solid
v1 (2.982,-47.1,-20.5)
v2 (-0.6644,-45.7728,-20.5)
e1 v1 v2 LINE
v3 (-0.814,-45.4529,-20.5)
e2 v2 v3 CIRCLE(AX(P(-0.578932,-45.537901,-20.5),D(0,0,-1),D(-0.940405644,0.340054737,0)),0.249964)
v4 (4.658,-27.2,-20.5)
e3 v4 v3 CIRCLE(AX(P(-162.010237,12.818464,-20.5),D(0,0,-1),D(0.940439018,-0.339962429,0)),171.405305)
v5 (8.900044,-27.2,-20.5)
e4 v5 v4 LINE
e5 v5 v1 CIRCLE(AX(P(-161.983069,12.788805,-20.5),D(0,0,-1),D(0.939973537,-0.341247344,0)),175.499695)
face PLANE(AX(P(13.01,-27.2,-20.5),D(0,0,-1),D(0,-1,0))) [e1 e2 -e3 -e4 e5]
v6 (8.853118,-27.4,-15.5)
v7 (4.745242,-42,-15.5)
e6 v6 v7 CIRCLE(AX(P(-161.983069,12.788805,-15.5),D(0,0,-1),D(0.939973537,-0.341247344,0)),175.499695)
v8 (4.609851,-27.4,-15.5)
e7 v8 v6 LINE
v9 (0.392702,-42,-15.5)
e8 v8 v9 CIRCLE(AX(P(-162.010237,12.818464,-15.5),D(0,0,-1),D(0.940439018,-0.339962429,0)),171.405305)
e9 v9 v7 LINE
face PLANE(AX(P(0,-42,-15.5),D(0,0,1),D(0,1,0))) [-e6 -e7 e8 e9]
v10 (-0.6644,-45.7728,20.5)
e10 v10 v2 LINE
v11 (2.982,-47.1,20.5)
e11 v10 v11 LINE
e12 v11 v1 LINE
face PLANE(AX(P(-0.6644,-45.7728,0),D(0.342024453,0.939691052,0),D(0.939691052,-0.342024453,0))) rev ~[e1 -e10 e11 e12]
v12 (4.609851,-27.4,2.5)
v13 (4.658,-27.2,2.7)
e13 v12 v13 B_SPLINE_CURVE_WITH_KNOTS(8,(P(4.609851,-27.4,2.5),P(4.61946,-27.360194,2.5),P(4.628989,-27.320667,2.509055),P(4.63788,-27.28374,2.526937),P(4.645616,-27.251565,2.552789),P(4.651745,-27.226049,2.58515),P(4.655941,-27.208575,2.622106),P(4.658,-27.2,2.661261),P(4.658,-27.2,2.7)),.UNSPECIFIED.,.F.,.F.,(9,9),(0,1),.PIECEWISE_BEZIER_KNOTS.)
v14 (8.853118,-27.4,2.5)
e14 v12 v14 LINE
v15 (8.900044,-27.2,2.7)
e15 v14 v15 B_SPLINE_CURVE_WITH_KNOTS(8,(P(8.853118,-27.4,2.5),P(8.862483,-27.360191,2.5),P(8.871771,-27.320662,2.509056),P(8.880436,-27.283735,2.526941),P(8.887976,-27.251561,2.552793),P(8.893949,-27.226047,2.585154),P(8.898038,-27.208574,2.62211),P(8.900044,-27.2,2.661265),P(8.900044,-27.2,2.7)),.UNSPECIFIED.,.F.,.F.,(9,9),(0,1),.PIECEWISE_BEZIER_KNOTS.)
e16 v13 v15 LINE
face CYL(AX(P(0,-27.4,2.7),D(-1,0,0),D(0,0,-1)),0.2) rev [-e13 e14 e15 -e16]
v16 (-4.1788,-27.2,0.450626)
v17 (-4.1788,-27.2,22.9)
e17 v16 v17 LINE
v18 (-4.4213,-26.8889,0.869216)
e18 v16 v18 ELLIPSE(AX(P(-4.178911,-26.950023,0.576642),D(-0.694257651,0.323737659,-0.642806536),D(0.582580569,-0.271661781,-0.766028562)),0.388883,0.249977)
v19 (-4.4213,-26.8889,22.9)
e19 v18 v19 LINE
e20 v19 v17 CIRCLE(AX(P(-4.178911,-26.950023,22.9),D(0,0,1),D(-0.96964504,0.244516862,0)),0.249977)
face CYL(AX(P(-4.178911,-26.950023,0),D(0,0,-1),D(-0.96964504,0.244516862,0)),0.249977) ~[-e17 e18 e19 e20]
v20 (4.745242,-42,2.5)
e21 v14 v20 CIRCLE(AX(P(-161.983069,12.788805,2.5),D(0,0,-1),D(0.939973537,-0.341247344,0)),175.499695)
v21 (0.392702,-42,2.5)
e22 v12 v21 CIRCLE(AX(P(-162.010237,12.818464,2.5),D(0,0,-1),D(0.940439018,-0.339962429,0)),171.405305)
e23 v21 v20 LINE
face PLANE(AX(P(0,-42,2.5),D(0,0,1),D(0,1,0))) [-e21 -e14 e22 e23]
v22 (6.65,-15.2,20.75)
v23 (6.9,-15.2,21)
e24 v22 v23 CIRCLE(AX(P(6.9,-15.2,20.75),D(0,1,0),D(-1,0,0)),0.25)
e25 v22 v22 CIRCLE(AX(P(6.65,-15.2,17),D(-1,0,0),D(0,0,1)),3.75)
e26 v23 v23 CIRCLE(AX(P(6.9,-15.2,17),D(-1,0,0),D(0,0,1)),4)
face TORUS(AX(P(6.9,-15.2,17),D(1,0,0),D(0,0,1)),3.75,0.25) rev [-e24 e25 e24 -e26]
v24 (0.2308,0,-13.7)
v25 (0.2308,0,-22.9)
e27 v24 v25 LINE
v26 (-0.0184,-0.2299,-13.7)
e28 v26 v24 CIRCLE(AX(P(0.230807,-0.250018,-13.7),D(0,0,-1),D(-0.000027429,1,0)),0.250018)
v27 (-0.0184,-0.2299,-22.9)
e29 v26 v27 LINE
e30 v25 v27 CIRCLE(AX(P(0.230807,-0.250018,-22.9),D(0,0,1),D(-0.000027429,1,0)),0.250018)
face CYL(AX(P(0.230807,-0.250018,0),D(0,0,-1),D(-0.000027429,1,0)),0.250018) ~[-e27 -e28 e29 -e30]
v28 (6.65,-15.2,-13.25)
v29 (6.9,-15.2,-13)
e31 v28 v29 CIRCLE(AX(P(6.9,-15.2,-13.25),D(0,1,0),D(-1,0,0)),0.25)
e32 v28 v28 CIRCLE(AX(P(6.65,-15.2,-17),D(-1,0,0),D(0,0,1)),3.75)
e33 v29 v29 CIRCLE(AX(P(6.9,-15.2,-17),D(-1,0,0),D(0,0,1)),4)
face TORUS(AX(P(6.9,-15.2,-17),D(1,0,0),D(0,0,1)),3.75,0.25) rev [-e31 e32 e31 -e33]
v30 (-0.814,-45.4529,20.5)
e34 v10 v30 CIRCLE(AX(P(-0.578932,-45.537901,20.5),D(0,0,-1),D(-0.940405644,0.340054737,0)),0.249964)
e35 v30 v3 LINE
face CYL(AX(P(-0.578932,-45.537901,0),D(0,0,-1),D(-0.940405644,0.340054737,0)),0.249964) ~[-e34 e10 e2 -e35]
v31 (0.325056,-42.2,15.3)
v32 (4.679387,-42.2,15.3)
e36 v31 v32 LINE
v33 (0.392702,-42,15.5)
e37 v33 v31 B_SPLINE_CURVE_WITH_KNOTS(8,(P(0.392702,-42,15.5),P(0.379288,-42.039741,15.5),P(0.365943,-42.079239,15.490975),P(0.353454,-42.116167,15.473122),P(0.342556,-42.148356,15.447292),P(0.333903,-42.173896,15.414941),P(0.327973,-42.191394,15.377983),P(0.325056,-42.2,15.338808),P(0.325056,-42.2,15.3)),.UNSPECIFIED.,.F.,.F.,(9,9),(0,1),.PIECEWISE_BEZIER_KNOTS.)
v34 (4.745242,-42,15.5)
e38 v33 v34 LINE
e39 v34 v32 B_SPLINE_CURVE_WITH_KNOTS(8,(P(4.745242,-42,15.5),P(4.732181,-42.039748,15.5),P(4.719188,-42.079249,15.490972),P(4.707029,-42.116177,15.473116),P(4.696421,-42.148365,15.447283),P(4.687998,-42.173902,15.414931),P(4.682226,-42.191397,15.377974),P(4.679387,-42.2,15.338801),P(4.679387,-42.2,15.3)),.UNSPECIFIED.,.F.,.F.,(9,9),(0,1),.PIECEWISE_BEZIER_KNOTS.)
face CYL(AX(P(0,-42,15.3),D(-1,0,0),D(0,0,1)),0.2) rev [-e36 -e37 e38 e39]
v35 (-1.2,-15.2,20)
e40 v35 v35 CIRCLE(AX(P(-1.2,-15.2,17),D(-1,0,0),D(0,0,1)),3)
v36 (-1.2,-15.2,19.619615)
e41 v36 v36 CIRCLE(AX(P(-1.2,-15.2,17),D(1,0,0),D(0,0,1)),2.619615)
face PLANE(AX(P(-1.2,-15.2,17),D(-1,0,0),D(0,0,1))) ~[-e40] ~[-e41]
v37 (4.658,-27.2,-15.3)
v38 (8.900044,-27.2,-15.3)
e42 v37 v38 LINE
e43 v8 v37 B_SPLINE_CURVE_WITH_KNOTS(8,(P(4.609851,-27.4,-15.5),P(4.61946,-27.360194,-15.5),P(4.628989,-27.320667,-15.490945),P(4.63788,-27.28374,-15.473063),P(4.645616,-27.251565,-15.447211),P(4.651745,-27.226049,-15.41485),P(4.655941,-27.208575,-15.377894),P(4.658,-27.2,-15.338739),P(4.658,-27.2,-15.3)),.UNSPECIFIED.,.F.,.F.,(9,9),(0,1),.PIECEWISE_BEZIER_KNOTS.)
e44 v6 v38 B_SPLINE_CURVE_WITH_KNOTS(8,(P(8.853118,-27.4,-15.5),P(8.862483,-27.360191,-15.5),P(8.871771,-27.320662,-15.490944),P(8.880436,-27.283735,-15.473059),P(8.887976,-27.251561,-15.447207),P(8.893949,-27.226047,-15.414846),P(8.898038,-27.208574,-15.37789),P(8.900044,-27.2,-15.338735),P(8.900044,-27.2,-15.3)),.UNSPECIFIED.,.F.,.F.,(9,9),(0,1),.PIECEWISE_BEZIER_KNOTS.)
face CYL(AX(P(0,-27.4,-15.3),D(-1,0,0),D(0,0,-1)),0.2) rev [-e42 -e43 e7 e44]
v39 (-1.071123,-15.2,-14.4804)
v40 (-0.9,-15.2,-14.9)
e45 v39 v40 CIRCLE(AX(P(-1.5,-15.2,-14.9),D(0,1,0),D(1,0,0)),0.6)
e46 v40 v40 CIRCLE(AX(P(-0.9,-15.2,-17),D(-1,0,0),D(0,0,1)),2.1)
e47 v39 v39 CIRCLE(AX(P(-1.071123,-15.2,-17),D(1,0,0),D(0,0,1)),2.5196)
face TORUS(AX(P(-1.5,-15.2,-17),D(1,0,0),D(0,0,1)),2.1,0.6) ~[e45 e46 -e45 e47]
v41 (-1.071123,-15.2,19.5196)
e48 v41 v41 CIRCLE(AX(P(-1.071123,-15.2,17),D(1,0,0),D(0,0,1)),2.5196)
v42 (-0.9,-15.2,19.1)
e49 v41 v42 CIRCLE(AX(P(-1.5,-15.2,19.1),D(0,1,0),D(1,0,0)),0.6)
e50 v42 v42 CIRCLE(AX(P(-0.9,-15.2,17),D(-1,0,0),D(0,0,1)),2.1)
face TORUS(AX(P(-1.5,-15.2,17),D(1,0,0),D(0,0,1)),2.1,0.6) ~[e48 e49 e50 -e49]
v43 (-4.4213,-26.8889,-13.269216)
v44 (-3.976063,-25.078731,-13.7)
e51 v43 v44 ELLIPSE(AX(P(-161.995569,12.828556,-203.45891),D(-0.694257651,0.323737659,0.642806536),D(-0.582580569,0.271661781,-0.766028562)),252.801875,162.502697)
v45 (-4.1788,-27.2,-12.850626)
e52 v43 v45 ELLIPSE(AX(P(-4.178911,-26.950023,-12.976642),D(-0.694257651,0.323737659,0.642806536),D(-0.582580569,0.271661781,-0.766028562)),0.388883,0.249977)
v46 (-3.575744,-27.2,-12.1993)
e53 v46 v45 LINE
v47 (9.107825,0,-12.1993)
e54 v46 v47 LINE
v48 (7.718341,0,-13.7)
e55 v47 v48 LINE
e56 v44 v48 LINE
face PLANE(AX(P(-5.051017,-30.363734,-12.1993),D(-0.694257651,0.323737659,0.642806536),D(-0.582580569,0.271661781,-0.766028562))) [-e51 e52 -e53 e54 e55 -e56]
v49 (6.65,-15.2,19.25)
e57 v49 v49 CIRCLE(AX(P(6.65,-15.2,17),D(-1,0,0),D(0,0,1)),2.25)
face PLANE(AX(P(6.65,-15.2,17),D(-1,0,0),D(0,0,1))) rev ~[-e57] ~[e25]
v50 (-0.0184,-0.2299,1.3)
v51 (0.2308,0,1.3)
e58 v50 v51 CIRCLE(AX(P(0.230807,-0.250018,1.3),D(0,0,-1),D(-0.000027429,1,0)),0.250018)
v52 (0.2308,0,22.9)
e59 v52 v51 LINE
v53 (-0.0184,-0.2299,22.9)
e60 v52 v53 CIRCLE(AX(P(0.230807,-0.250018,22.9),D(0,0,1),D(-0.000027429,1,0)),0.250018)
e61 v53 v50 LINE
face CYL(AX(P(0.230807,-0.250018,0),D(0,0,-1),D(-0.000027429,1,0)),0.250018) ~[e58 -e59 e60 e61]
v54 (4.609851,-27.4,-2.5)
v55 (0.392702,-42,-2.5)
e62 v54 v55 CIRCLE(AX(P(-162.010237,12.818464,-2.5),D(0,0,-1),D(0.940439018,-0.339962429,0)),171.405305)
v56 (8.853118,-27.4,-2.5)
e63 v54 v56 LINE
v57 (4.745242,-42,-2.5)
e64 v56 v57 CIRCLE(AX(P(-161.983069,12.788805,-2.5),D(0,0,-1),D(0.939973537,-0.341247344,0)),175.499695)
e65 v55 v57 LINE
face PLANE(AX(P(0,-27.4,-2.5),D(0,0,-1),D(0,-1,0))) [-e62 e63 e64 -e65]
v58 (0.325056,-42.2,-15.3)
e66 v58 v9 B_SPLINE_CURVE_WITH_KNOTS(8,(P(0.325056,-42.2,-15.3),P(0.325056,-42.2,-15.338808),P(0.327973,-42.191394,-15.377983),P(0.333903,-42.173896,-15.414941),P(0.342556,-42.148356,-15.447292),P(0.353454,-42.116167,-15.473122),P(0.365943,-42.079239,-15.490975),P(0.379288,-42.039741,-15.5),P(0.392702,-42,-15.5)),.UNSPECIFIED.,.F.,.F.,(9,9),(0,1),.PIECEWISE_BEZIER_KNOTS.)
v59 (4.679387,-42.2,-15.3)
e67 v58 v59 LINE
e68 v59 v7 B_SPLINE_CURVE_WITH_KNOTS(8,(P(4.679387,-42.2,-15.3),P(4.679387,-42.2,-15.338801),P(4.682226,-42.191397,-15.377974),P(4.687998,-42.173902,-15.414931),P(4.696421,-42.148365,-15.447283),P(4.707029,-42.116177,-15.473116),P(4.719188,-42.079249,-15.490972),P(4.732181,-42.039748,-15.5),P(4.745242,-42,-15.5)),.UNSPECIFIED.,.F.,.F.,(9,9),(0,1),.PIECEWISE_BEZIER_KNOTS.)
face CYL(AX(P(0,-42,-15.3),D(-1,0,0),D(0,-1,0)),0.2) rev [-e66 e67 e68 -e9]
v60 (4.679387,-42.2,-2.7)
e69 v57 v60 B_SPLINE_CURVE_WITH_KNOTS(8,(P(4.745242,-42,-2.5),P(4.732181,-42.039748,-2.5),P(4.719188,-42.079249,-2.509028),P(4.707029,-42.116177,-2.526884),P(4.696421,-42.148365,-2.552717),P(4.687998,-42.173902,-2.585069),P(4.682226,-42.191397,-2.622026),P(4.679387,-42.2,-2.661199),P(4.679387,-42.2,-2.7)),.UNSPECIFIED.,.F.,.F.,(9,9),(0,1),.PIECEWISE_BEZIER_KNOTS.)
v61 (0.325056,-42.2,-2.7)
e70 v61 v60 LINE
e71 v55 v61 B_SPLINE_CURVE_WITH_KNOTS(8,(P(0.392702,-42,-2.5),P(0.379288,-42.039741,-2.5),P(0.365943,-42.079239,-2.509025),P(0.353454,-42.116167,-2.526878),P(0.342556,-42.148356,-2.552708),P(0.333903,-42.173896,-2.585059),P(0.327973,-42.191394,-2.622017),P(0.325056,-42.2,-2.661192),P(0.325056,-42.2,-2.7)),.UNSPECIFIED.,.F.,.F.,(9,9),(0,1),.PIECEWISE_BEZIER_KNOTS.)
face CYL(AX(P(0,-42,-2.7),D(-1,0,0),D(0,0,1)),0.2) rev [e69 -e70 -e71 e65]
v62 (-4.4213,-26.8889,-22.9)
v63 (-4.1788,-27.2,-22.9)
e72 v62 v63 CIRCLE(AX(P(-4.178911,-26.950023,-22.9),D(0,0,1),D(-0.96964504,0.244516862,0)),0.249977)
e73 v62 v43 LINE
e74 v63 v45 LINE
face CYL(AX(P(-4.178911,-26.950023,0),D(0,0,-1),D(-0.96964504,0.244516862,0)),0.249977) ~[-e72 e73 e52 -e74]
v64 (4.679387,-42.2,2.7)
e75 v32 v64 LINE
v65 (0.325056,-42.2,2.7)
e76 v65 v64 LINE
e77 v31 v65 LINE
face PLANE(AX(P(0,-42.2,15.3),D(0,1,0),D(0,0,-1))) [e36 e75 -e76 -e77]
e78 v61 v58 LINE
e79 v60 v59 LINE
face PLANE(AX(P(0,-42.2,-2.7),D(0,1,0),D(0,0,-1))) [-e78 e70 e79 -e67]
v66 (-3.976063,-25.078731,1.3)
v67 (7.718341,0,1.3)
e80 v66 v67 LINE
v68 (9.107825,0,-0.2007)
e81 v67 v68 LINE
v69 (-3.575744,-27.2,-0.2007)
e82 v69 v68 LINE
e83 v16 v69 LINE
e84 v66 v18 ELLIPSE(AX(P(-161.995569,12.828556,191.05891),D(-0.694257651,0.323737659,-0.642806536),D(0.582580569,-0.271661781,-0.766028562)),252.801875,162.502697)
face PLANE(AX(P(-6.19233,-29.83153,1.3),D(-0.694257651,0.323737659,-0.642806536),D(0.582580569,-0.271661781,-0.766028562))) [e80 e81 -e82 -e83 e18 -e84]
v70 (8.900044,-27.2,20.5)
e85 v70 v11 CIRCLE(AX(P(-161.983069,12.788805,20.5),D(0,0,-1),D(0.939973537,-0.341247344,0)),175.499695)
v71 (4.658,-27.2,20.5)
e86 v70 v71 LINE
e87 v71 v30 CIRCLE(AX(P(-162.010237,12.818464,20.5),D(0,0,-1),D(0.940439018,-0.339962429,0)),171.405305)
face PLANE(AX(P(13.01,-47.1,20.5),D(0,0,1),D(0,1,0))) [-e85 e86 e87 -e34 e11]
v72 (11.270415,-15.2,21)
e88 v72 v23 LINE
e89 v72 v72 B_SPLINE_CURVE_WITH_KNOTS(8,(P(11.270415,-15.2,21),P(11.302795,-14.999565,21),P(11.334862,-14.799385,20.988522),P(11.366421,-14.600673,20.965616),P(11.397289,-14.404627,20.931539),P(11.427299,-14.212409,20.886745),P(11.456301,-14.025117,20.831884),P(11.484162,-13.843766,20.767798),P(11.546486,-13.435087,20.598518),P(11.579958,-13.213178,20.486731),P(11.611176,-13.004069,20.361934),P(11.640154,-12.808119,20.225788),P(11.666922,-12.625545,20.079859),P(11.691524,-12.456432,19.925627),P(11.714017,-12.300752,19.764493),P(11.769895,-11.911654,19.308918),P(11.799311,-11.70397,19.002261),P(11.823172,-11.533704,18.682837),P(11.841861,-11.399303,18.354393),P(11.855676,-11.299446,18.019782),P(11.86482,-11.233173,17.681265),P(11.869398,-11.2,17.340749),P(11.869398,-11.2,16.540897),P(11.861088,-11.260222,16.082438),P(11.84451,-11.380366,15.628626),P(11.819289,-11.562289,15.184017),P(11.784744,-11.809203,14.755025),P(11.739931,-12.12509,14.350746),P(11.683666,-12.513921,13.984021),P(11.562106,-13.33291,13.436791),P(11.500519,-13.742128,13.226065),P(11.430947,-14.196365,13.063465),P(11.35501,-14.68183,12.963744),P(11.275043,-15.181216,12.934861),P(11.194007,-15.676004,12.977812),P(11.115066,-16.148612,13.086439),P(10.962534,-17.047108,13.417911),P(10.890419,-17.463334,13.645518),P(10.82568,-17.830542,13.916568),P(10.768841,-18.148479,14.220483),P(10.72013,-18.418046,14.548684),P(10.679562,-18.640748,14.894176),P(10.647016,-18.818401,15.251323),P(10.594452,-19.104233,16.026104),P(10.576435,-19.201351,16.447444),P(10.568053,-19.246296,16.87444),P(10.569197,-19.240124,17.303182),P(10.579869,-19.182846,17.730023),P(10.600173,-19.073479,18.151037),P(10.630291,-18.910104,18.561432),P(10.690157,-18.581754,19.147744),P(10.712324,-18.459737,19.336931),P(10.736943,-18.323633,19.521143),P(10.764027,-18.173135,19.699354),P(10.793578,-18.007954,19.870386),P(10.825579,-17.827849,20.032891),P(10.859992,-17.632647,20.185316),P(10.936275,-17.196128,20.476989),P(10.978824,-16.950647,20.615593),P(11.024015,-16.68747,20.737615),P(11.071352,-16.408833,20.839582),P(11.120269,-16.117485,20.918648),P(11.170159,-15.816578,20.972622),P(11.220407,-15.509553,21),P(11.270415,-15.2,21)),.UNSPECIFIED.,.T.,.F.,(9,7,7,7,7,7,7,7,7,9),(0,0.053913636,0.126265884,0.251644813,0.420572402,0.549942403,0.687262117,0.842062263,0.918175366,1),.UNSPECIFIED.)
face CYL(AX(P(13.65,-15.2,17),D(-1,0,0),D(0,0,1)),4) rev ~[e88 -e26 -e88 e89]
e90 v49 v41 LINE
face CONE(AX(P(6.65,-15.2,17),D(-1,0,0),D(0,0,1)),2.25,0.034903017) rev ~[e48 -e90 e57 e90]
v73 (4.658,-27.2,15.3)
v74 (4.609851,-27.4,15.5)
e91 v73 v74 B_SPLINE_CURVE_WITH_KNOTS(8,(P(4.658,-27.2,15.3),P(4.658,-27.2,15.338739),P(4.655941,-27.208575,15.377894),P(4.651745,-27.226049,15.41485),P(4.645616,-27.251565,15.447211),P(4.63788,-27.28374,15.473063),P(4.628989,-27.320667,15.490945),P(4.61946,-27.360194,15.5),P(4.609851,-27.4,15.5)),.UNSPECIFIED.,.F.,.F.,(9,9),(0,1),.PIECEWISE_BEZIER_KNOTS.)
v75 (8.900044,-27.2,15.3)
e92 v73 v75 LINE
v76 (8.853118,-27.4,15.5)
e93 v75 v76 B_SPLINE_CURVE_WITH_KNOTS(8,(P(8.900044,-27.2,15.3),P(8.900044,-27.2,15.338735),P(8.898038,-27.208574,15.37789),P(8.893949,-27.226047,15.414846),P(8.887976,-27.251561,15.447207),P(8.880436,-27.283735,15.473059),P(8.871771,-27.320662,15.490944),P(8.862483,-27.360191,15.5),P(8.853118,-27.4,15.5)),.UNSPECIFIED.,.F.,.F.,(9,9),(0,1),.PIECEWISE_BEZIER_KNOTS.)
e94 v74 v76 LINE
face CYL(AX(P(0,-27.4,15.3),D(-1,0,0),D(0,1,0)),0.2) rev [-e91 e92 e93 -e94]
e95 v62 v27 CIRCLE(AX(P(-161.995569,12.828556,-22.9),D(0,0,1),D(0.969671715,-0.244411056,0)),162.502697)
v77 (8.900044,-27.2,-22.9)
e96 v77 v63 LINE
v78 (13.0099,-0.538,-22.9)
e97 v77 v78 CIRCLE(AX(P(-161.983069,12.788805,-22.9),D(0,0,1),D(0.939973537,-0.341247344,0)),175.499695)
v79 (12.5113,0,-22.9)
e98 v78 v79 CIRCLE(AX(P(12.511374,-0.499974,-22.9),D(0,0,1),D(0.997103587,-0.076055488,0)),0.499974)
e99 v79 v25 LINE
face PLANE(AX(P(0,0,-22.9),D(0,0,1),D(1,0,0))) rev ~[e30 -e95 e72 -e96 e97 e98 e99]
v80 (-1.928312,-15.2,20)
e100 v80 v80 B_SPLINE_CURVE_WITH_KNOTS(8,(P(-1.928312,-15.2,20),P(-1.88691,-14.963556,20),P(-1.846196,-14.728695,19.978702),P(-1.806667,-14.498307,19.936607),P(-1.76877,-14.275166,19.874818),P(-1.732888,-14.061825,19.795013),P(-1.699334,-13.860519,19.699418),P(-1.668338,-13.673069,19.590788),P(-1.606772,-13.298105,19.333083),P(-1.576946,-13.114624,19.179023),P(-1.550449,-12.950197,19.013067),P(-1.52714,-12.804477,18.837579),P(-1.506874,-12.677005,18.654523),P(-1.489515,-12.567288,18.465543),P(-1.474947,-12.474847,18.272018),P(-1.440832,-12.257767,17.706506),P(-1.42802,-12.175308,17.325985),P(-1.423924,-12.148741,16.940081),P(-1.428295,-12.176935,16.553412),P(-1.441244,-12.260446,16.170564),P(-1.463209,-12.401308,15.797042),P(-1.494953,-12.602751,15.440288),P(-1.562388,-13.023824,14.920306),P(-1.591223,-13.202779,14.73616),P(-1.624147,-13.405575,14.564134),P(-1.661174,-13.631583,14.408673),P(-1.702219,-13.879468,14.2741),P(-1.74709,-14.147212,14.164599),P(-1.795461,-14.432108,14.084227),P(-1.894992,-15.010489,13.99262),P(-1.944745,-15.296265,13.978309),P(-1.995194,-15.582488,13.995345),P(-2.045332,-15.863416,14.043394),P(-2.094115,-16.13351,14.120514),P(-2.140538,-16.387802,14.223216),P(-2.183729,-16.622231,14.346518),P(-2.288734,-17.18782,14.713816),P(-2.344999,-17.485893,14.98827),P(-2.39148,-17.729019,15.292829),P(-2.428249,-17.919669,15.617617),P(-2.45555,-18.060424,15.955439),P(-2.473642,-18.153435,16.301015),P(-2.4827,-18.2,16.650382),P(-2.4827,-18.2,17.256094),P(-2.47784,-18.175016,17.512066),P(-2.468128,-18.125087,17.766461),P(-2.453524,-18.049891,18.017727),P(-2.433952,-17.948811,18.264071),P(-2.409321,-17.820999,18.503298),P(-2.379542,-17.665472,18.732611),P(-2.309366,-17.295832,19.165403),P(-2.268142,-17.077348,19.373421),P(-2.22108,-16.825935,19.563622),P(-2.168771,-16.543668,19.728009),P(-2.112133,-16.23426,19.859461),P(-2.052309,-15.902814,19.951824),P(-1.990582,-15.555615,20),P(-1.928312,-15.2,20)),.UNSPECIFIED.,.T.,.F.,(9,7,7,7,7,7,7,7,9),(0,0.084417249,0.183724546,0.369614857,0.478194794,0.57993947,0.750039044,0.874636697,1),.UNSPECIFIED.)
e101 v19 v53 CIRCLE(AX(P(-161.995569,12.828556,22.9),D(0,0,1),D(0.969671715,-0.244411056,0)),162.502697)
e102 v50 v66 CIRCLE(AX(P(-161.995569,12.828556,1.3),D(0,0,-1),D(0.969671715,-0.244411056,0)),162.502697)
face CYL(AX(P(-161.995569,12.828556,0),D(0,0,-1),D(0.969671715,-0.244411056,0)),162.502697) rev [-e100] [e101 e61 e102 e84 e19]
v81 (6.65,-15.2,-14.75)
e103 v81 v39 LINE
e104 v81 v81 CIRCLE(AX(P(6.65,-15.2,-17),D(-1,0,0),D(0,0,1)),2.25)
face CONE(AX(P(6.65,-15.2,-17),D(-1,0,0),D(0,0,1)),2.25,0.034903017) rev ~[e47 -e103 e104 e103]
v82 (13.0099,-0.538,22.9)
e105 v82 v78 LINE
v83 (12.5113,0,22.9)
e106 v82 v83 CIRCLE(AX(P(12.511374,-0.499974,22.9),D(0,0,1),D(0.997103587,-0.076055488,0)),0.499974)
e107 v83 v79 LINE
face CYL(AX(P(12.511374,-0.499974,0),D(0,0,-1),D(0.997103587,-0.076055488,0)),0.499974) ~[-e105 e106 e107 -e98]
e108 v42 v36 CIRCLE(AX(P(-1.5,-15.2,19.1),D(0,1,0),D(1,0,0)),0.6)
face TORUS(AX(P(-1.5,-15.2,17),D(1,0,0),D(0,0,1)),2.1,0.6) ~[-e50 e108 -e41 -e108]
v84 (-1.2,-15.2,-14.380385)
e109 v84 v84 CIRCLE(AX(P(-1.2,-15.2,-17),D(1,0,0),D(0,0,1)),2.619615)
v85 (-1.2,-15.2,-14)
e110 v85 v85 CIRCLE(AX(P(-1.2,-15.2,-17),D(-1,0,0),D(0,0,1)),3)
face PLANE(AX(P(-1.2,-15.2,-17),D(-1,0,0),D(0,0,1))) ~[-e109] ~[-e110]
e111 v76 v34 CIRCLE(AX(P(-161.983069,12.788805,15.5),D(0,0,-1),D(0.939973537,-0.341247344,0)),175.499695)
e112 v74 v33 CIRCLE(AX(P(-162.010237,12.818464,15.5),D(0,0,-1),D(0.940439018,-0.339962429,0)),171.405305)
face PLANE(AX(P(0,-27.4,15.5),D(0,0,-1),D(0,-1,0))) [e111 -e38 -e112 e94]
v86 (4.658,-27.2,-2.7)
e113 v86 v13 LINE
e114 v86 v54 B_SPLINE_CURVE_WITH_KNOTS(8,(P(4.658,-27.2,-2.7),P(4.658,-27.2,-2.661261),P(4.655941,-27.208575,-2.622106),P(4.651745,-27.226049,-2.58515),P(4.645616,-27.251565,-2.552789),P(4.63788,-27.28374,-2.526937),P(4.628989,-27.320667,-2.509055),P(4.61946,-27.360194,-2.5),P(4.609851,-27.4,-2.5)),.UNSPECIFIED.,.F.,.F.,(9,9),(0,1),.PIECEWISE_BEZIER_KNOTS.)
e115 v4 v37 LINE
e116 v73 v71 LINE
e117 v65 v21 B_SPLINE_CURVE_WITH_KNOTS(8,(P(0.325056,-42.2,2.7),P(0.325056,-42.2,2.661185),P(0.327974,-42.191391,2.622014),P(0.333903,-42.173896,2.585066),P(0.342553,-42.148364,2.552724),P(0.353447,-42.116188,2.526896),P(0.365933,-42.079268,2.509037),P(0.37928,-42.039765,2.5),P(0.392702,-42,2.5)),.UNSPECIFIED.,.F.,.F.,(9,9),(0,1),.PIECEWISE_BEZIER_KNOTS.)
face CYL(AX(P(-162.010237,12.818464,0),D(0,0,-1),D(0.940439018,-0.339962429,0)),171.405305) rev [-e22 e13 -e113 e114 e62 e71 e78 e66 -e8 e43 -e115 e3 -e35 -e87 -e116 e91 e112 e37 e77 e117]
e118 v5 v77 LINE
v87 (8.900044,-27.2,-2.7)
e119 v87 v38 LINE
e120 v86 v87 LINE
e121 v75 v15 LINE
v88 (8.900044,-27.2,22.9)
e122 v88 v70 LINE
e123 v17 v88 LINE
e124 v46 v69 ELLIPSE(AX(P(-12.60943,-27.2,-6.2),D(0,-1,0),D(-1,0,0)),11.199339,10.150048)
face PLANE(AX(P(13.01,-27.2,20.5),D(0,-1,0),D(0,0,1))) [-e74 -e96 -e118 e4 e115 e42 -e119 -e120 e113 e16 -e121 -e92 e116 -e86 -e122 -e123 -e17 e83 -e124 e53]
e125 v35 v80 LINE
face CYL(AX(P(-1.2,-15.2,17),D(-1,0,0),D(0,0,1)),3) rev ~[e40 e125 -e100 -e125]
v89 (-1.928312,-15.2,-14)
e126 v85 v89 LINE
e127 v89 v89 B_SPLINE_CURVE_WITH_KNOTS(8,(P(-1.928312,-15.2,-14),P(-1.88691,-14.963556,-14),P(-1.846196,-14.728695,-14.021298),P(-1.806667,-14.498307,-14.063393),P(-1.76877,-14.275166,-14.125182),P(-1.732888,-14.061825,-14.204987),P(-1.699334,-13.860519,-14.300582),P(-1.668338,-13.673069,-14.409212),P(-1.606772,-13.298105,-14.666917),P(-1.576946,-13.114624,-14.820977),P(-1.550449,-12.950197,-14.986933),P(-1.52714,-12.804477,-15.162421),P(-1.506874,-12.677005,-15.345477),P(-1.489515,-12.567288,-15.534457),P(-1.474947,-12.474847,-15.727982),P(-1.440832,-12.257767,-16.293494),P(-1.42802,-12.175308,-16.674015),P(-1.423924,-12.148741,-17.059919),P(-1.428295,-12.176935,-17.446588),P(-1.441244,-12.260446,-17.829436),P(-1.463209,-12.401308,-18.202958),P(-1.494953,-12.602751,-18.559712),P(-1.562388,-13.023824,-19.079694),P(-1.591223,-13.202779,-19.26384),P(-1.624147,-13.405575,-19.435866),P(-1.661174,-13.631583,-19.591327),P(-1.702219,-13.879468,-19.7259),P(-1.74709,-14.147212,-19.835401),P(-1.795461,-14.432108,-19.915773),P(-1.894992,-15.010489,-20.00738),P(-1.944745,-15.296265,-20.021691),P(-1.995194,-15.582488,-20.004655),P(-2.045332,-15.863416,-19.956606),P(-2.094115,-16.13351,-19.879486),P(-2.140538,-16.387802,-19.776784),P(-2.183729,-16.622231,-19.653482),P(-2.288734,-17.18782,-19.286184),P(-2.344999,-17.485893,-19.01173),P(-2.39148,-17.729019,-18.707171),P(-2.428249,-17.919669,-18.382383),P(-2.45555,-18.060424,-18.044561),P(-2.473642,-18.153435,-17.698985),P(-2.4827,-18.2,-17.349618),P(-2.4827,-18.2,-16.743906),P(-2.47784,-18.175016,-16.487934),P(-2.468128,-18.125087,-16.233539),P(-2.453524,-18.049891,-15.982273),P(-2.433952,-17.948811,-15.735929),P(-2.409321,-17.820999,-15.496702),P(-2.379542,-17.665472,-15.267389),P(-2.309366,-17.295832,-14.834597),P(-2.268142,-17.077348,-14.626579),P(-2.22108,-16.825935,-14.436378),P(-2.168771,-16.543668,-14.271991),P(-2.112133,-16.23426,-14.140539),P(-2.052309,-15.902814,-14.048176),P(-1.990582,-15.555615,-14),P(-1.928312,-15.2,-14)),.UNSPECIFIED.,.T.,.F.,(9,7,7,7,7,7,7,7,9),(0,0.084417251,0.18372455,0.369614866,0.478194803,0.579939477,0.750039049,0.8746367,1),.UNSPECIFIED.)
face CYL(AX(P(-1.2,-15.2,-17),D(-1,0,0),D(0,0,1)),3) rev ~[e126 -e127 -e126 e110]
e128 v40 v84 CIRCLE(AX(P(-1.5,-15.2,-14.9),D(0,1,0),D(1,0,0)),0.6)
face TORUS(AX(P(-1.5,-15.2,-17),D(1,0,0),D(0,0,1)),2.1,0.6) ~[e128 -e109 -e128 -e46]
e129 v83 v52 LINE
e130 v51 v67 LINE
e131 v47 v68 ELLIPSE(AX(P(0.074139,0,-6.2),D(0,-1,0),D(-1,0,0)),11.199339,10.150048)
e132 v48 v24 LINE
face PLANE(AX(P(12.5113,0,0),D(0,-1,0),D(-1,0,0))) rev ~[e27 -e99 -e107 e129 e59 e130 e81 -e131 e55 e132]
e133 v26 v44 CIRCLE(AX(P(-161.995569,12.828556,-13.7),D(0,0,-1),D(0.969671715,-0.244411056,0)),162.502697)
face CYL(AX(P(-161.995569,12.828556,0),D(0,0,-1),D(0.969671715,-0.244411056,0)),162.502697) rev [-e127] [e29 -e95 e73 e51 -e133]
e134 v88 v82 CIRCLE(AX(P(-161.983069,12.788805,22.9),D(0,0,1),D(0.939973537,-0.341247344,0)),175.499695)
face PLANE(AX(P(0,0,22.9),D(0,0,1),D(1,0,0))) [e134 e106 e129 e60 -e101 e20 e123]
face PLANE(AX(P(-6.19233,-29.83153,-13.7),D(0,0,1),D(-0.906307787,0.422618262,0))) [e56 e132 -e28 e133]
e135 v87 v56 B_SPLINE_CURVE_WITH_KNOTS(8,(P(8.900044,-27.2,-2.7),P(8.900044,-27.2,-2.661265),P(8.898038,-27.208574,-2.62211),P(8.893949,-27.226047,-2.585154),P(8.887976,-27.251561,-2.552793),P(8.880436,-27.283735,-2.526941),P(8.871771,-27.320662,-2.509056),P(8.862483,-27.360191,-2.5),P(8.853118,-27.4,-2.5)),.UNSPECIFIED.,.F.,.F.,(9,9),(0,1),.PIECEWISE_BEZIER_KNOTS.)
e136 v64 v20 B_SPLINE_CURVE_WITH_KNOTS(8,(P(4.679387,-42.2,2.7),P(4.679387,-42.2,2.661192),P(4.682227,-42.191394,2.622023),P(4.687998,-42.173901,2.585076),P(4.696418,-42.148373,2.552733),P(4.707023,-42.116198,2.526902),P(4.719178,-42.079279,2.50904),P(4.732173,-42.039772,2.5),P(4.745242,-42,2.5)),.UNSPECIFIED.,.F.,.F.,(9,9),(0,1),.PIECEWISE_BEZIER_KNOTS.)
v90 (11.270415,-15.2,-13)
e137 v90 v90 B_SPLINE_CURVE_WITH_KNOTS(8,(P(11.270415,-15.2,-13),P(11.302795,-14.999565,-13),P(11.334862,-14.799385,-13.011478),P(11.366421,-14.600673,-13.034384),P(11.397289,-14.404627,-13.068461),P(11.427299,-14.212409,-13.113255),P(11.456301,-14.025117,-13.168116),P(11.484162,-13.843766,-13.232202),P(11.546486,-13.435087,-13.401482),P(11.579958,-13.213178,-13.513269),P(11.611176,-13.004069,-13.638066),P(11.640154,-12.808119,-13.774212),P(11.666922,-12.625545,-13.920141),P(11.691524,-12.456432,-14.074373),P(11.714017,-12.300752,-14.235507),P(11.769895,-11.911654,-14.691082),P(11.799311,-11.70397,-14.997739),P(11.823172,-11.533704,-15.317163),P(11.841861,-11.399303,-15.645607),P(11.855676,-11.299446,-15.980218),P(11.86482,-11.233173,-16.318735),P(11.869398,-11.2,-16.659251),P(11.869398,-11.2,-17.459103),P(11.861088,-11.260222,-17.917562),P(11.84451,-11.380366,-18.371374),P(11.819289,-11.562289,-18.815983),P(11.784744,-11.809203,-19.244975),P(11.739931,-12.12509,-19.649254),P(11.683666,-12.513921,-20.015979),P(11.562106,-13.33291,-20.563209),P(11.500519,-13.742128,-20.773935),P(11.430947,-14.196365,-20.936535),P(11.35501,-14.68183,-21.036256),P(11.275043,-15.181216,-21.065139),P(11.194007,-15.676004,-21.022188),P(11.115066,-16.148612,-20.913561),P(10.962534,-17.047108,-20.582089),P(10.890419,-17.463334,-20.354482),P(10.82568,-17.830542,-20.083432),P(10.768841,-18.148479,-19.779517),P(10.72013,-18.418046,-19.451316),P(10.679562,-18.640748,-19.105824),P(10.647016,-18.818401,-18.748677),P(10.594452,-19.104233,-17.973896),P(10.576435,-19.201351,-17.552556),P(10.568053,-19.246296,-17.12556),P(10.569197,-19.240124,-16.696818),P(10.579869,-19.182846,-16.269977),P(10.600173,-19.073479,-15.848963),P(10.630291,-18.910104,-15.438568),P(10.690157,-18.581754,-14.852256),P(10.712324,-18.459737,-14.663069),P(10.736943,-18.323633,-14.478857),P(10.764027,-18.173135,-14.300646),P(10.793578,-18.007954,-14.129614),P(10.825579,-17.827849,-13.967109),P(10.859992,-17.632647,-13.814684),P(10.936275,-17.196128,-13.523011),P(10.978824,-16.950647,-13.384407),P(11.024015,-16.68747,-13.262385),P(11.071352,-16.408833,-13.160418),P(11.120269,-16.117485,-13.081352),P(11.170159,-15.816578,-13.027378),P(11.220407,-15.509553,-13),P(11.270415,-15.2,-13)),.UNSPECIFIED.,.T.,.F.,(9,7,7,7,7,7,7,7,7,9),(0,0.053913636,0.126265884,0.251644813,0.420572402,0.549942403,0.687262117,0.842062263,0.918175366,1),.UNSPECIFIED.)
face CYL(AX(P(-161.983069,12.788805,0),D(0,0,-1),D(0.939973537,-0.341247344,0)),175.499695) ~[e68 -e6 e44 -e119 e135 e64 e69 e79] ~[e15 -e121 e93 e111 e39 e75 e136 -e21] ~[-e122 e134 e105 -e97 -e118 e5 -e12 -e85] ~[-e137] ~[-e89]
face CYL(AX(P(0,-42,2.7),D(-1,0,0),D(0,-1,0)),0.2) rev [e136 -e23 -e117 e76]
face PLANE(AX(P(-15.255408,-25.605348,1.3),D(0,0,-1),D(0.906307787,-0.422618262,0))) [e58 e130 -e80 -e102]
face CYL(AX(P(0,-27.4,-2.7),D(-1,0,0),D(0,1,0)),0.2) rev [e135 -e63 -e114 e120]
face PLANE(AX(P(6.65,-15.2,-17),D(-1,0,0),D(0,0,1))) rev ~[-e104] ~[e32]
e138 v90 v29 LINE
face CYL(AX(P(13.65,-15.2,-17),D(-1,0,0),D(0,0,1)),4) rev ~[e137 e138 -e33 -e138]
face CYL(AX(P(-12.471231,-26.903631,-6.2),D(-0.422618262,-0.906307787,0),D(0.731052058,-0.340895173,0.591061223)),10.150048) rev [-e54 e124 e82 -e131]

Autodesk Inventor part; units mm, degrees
sketch "Sketch_1" plane through (0, 0, 0) normal (0, 0, 1) x (1, 0, 0)
  arc A0 (-4.4213, -26.8889) -> (-4.1788, -27.2) centre (-4.1788, -26.95) ccw
  line L0 (-4.1788, -27.2) -> (4.658, -27.2)
  arc A1 (-0.814, -45.4529) -> (4.658, -27.2) centre (-162.0052, 12.8168) ccw
  arc A2 (-0.814, -45.4529) -> (-0.6644, -45.7728) centre (-0.5789, -45.5379) ccw
  line L1 (-0.6644, -45.7728) -> (2.982, -47.1)
  arc A3 (2.982, -47.1) -> (13.0099, -0.538) centre (-161.9834, 12.7889) ccw
  arc A4 (13.0099, -0.538) -> (12.5113, 0) centre (12.5113, -0.5) ccw
  line L2 (12.5113, 0) -> (0.2308, 0)
  arc A5 (0.2308, 0) -> (-0.0184, -0.2299) centre (0.2308, -0.25) ccw
  arc A6 (-4.4213, -26.8889) -> (-0.0184, -0.2299) centre (-161.9929, 12.828) ccw
extrude "Extrusion1" add sketch "Sketch_1" along normal mid plane 45.8
sketch "Sketch_2" plane through (0, 0, 0) normal (1, 0, 0) x (0, 1, 0)
  line L0 (-27.4, 15.5) -> (-42, 15.5)
  arc A0 (-42, 15.5) -> (-42.2, 15.3) centre (-42, 15.3) ccw
  line L1 (-42.2, 15.3) -> (-42.2, 2.7)
  arc A1 (-42.2, 2.7) -> (-42, 2.5) centre (-42, 2.7) ccw
  line L2 (-42, 2.5) -> (-27.4, 2.5)
  arc A2 (-27.4, 2.5) -> (-27.2, 2.7) centre (-27.4, 2.7) ccw
  line L3 (-27.2, 2.7) -> (-27.2, 15.3)
  arc A3 (-27.2, 15.3) -> (-27.4, 15.5) centre (-27.4, 15.3) ccw
extrude "Extrusion2" cut sketch "Sketch_2" along normal blind 15
sketch "Sketch_3" plane through (0, 0, 0) normal (1, 0, 0) x (0, 1, 0)
  arc A0 (-42, -2.5) -> (-42.2, -2.7) centre (-42, -2.7) ccw
  line L0 (-42.2, -2.7) -> (-42.2, -15.3)
  arc A1 (-42.2, -15.3) -> (-42, -15.5) centre (-42, -15.3) ccw
  line L1 (-42, -15.5) -> (-27.4, -15.5)
  arc A2 (-27.4, -15.5) -> (-27.2, -15.3) centre (-27.4, -15.3) ccw
  line L2 (-27.2, -15.3) -> (-27.2, -2.7)
  arc A3 (-27.2, -2.7) -> (-27.4, -2.5) centre (-27.4, -2.7) ccw
  line L3 (-27.4, -2.5) -> (-42, -2.5)
extrude "Extrusion3" cut sketch "Sketch_3" along normal blind 15
sketch "Sketch_4" plane through (13.01, 0, 0) normal (1, 0, 0) x (0, 0, -1)
  line L0 (-22.9, -47.1) -> (-20.5, -47.1)
  line L1 (-20.5, -47.1) -> (-20.5, -27.2)
  line L2 (-20.5, -27.2) -> (-22.9, -27.2)
  line L3 (-22.9, -27.2) -> (-22.9, -47.1)
extrude "Extrusion4" cut sketch "Sketch_4" along normal mid plane 40
sketch "Sketch_5" plane through (13.01, 0, 0) normal (1, 0, 0) x (0, 0, -1)
  line L0 (20.5, -47.1) -> (22.9, -47.1)
  line L1 (22.9, -47.1) -> (22.9, -27.2)
  line L2 (22.9, -27.2) -> (20.5, -27.2)
  line L3 (20.5, -27.2) -> (20.5, -47.1)
extrude "Extrusion5" cut sketch "Sketch_5" along normal mid plane 30
sketch "Sketch_6" plane through (0, -15.2, 0) normal (0, 1, 0) x (1, 0, 0)
  line L0 (-3, -17) -> (13.65, -17)
  line L1 (13.65, -17) -> (13.65, -21)
  line L2 (13.65, -21) -> (6.9, -21)
  arc A0 (6.65, -20.75) -> (6.9, -21) centre (6.9, -20.75) ccw
  line L3 (6.65, -20.75) -> (6.65, -19.25)
  line L4 (6.65, -19.25) -> (-1.2, -19.5241)
  line L5 (-1.2, -19.5241) -> (-1.2, -20)
  line L6 (-1.2, -20) -> (-3, -20)
  line L7 (-3, -20) -> (-3, -17)
  line L8 (-3, -17) -> (13.65, -17)
revolve "Revolution1" cut sketch "Sketch_6" angle 360 about axis through (-3, -15.2, 17) along (-1, 0, 0)
sketch "Sketch_7" plane through (0, -15.2, 0) normal (0, 1, 0) x (1, 0, 0)
  line L0 (-3, 17) -> (13.65, 17)
  line L1 (13.65, 17) -> (13.65, 13)
  line L2 (13.65, 13) -> (6.9, 13)
  arc A0 (6.65, 13.25) -> (6.9, 13) centre (6.9, 13.25) ccw
  line L3 (6.65, 13.25) -> (6.65, 14.75)
  line L4 (6.65, 14.75) -> (-1.2, 14.4759)
  line L5 (-1.2, 14.4759) -> (-1.2, 14)
  line L6 (-1.2, 14) -> (-3, 14)
  line L7 (-3, 14) -> (-3, 17)
  line L8 (-3, 17) -> (13.65, 17)
revolve "Revolution2" cut sketch "Sketch_7" angle 360 about axis through (-3, -15.2, -17) along (-1, 0, 0)
sketch "Sketch_8" plane through (0, -15.2, 0) normal (0, 1, 0) x (1, 0, 0)
  line L0 (-2.1, -17) -> (-0.9, -17)
  circle A0 centre (-1.5, -19.1) radius 0.6
revolve "Revolution3" add sketch "Sketch_8" angle 360 about axis through (-2.1, -15.2, 17) along (-1, 0, 0)
sketch "Sketch_13" plane through (0, -15.2, 0) normal (0, 1, 0) x (1, 0, 0)
  line L0 (-2.1, 17) -> (-0.9, 17)
  circle A0 centre (-1.5, 14.9) radius 0.6
revolve "Revolution4" add sketch "Sketch_13" angle 360 about axis through (-2.1, -15.2, -17) along (-1, 0, 0)
sketch "Sketch_11" plane through (-2.1131, -31.7315, 0) normal (0.4226, 0.9063, 0) x (0.9063, -0.4226, 0)
  line L0 (-14.5, -1.3) -> (-4.5, -1.3)
  line L1 (-4.5, -1.3) -> (-3.2407, 0.2007)
  arc A0 (-3.2407, 0.2007) -> (-3.2407, 12.1993) centre (-11.428, 6.2) ccw
  line L2 (-3.2407, 12.1993) -> (-4.5, 13.7)
  line L3 (-4.5, 13.7) -> (-14.5, 13.7)
  line L4 (-14.5, 13.7) -> (-14.5, -1.3)
extrude "Extrusion6" cut sketch "Sketch_11" along normal blind 35
ref_plane "ANBAU_XY" through (0, 0, 0) normal (1, 0, 0) x (0, 0, -1)
ref_plane "ANBAU_YZ" through (0, 0, 0) normal (0, 0, -1) x (0, 1, 0)
ref_plane "ANBAU_ZX" through (0, 0, 0) normal (0, 1, 0) x (1, 0, 0)
ref_plane "SCREW_1_XY" through (6.65, -15.2, 17) normal (1, 0, 0) x (0, 0, -1)
ref_plane "SCREW_1_YZ" through (6.65, -15.2, 17) normal (0, 0, -1) x (0, 1, 0)
ref_plane "SCREW_1_ZX" through (6.65, -15.2, 17) normal (0, 1, 0) x (1, 0, 0)
ref_plane "SCREW_2_XY" through (6.65, -15.2, -17) normal (1, 0, 0) x (0, 0, -1)
ref_plane "SCREW_2_YZ" through (6.65, -15.2, -17) normal (0, 0, -1) x (0, 1, 0)
ref_plane "SCREW_2_ZX" through (6.65, -15.2, -17) normal (0, 1, 0) x (1, 0, 0)
properties part number "4978445 CMMT-AS-3A---(clamp)"
